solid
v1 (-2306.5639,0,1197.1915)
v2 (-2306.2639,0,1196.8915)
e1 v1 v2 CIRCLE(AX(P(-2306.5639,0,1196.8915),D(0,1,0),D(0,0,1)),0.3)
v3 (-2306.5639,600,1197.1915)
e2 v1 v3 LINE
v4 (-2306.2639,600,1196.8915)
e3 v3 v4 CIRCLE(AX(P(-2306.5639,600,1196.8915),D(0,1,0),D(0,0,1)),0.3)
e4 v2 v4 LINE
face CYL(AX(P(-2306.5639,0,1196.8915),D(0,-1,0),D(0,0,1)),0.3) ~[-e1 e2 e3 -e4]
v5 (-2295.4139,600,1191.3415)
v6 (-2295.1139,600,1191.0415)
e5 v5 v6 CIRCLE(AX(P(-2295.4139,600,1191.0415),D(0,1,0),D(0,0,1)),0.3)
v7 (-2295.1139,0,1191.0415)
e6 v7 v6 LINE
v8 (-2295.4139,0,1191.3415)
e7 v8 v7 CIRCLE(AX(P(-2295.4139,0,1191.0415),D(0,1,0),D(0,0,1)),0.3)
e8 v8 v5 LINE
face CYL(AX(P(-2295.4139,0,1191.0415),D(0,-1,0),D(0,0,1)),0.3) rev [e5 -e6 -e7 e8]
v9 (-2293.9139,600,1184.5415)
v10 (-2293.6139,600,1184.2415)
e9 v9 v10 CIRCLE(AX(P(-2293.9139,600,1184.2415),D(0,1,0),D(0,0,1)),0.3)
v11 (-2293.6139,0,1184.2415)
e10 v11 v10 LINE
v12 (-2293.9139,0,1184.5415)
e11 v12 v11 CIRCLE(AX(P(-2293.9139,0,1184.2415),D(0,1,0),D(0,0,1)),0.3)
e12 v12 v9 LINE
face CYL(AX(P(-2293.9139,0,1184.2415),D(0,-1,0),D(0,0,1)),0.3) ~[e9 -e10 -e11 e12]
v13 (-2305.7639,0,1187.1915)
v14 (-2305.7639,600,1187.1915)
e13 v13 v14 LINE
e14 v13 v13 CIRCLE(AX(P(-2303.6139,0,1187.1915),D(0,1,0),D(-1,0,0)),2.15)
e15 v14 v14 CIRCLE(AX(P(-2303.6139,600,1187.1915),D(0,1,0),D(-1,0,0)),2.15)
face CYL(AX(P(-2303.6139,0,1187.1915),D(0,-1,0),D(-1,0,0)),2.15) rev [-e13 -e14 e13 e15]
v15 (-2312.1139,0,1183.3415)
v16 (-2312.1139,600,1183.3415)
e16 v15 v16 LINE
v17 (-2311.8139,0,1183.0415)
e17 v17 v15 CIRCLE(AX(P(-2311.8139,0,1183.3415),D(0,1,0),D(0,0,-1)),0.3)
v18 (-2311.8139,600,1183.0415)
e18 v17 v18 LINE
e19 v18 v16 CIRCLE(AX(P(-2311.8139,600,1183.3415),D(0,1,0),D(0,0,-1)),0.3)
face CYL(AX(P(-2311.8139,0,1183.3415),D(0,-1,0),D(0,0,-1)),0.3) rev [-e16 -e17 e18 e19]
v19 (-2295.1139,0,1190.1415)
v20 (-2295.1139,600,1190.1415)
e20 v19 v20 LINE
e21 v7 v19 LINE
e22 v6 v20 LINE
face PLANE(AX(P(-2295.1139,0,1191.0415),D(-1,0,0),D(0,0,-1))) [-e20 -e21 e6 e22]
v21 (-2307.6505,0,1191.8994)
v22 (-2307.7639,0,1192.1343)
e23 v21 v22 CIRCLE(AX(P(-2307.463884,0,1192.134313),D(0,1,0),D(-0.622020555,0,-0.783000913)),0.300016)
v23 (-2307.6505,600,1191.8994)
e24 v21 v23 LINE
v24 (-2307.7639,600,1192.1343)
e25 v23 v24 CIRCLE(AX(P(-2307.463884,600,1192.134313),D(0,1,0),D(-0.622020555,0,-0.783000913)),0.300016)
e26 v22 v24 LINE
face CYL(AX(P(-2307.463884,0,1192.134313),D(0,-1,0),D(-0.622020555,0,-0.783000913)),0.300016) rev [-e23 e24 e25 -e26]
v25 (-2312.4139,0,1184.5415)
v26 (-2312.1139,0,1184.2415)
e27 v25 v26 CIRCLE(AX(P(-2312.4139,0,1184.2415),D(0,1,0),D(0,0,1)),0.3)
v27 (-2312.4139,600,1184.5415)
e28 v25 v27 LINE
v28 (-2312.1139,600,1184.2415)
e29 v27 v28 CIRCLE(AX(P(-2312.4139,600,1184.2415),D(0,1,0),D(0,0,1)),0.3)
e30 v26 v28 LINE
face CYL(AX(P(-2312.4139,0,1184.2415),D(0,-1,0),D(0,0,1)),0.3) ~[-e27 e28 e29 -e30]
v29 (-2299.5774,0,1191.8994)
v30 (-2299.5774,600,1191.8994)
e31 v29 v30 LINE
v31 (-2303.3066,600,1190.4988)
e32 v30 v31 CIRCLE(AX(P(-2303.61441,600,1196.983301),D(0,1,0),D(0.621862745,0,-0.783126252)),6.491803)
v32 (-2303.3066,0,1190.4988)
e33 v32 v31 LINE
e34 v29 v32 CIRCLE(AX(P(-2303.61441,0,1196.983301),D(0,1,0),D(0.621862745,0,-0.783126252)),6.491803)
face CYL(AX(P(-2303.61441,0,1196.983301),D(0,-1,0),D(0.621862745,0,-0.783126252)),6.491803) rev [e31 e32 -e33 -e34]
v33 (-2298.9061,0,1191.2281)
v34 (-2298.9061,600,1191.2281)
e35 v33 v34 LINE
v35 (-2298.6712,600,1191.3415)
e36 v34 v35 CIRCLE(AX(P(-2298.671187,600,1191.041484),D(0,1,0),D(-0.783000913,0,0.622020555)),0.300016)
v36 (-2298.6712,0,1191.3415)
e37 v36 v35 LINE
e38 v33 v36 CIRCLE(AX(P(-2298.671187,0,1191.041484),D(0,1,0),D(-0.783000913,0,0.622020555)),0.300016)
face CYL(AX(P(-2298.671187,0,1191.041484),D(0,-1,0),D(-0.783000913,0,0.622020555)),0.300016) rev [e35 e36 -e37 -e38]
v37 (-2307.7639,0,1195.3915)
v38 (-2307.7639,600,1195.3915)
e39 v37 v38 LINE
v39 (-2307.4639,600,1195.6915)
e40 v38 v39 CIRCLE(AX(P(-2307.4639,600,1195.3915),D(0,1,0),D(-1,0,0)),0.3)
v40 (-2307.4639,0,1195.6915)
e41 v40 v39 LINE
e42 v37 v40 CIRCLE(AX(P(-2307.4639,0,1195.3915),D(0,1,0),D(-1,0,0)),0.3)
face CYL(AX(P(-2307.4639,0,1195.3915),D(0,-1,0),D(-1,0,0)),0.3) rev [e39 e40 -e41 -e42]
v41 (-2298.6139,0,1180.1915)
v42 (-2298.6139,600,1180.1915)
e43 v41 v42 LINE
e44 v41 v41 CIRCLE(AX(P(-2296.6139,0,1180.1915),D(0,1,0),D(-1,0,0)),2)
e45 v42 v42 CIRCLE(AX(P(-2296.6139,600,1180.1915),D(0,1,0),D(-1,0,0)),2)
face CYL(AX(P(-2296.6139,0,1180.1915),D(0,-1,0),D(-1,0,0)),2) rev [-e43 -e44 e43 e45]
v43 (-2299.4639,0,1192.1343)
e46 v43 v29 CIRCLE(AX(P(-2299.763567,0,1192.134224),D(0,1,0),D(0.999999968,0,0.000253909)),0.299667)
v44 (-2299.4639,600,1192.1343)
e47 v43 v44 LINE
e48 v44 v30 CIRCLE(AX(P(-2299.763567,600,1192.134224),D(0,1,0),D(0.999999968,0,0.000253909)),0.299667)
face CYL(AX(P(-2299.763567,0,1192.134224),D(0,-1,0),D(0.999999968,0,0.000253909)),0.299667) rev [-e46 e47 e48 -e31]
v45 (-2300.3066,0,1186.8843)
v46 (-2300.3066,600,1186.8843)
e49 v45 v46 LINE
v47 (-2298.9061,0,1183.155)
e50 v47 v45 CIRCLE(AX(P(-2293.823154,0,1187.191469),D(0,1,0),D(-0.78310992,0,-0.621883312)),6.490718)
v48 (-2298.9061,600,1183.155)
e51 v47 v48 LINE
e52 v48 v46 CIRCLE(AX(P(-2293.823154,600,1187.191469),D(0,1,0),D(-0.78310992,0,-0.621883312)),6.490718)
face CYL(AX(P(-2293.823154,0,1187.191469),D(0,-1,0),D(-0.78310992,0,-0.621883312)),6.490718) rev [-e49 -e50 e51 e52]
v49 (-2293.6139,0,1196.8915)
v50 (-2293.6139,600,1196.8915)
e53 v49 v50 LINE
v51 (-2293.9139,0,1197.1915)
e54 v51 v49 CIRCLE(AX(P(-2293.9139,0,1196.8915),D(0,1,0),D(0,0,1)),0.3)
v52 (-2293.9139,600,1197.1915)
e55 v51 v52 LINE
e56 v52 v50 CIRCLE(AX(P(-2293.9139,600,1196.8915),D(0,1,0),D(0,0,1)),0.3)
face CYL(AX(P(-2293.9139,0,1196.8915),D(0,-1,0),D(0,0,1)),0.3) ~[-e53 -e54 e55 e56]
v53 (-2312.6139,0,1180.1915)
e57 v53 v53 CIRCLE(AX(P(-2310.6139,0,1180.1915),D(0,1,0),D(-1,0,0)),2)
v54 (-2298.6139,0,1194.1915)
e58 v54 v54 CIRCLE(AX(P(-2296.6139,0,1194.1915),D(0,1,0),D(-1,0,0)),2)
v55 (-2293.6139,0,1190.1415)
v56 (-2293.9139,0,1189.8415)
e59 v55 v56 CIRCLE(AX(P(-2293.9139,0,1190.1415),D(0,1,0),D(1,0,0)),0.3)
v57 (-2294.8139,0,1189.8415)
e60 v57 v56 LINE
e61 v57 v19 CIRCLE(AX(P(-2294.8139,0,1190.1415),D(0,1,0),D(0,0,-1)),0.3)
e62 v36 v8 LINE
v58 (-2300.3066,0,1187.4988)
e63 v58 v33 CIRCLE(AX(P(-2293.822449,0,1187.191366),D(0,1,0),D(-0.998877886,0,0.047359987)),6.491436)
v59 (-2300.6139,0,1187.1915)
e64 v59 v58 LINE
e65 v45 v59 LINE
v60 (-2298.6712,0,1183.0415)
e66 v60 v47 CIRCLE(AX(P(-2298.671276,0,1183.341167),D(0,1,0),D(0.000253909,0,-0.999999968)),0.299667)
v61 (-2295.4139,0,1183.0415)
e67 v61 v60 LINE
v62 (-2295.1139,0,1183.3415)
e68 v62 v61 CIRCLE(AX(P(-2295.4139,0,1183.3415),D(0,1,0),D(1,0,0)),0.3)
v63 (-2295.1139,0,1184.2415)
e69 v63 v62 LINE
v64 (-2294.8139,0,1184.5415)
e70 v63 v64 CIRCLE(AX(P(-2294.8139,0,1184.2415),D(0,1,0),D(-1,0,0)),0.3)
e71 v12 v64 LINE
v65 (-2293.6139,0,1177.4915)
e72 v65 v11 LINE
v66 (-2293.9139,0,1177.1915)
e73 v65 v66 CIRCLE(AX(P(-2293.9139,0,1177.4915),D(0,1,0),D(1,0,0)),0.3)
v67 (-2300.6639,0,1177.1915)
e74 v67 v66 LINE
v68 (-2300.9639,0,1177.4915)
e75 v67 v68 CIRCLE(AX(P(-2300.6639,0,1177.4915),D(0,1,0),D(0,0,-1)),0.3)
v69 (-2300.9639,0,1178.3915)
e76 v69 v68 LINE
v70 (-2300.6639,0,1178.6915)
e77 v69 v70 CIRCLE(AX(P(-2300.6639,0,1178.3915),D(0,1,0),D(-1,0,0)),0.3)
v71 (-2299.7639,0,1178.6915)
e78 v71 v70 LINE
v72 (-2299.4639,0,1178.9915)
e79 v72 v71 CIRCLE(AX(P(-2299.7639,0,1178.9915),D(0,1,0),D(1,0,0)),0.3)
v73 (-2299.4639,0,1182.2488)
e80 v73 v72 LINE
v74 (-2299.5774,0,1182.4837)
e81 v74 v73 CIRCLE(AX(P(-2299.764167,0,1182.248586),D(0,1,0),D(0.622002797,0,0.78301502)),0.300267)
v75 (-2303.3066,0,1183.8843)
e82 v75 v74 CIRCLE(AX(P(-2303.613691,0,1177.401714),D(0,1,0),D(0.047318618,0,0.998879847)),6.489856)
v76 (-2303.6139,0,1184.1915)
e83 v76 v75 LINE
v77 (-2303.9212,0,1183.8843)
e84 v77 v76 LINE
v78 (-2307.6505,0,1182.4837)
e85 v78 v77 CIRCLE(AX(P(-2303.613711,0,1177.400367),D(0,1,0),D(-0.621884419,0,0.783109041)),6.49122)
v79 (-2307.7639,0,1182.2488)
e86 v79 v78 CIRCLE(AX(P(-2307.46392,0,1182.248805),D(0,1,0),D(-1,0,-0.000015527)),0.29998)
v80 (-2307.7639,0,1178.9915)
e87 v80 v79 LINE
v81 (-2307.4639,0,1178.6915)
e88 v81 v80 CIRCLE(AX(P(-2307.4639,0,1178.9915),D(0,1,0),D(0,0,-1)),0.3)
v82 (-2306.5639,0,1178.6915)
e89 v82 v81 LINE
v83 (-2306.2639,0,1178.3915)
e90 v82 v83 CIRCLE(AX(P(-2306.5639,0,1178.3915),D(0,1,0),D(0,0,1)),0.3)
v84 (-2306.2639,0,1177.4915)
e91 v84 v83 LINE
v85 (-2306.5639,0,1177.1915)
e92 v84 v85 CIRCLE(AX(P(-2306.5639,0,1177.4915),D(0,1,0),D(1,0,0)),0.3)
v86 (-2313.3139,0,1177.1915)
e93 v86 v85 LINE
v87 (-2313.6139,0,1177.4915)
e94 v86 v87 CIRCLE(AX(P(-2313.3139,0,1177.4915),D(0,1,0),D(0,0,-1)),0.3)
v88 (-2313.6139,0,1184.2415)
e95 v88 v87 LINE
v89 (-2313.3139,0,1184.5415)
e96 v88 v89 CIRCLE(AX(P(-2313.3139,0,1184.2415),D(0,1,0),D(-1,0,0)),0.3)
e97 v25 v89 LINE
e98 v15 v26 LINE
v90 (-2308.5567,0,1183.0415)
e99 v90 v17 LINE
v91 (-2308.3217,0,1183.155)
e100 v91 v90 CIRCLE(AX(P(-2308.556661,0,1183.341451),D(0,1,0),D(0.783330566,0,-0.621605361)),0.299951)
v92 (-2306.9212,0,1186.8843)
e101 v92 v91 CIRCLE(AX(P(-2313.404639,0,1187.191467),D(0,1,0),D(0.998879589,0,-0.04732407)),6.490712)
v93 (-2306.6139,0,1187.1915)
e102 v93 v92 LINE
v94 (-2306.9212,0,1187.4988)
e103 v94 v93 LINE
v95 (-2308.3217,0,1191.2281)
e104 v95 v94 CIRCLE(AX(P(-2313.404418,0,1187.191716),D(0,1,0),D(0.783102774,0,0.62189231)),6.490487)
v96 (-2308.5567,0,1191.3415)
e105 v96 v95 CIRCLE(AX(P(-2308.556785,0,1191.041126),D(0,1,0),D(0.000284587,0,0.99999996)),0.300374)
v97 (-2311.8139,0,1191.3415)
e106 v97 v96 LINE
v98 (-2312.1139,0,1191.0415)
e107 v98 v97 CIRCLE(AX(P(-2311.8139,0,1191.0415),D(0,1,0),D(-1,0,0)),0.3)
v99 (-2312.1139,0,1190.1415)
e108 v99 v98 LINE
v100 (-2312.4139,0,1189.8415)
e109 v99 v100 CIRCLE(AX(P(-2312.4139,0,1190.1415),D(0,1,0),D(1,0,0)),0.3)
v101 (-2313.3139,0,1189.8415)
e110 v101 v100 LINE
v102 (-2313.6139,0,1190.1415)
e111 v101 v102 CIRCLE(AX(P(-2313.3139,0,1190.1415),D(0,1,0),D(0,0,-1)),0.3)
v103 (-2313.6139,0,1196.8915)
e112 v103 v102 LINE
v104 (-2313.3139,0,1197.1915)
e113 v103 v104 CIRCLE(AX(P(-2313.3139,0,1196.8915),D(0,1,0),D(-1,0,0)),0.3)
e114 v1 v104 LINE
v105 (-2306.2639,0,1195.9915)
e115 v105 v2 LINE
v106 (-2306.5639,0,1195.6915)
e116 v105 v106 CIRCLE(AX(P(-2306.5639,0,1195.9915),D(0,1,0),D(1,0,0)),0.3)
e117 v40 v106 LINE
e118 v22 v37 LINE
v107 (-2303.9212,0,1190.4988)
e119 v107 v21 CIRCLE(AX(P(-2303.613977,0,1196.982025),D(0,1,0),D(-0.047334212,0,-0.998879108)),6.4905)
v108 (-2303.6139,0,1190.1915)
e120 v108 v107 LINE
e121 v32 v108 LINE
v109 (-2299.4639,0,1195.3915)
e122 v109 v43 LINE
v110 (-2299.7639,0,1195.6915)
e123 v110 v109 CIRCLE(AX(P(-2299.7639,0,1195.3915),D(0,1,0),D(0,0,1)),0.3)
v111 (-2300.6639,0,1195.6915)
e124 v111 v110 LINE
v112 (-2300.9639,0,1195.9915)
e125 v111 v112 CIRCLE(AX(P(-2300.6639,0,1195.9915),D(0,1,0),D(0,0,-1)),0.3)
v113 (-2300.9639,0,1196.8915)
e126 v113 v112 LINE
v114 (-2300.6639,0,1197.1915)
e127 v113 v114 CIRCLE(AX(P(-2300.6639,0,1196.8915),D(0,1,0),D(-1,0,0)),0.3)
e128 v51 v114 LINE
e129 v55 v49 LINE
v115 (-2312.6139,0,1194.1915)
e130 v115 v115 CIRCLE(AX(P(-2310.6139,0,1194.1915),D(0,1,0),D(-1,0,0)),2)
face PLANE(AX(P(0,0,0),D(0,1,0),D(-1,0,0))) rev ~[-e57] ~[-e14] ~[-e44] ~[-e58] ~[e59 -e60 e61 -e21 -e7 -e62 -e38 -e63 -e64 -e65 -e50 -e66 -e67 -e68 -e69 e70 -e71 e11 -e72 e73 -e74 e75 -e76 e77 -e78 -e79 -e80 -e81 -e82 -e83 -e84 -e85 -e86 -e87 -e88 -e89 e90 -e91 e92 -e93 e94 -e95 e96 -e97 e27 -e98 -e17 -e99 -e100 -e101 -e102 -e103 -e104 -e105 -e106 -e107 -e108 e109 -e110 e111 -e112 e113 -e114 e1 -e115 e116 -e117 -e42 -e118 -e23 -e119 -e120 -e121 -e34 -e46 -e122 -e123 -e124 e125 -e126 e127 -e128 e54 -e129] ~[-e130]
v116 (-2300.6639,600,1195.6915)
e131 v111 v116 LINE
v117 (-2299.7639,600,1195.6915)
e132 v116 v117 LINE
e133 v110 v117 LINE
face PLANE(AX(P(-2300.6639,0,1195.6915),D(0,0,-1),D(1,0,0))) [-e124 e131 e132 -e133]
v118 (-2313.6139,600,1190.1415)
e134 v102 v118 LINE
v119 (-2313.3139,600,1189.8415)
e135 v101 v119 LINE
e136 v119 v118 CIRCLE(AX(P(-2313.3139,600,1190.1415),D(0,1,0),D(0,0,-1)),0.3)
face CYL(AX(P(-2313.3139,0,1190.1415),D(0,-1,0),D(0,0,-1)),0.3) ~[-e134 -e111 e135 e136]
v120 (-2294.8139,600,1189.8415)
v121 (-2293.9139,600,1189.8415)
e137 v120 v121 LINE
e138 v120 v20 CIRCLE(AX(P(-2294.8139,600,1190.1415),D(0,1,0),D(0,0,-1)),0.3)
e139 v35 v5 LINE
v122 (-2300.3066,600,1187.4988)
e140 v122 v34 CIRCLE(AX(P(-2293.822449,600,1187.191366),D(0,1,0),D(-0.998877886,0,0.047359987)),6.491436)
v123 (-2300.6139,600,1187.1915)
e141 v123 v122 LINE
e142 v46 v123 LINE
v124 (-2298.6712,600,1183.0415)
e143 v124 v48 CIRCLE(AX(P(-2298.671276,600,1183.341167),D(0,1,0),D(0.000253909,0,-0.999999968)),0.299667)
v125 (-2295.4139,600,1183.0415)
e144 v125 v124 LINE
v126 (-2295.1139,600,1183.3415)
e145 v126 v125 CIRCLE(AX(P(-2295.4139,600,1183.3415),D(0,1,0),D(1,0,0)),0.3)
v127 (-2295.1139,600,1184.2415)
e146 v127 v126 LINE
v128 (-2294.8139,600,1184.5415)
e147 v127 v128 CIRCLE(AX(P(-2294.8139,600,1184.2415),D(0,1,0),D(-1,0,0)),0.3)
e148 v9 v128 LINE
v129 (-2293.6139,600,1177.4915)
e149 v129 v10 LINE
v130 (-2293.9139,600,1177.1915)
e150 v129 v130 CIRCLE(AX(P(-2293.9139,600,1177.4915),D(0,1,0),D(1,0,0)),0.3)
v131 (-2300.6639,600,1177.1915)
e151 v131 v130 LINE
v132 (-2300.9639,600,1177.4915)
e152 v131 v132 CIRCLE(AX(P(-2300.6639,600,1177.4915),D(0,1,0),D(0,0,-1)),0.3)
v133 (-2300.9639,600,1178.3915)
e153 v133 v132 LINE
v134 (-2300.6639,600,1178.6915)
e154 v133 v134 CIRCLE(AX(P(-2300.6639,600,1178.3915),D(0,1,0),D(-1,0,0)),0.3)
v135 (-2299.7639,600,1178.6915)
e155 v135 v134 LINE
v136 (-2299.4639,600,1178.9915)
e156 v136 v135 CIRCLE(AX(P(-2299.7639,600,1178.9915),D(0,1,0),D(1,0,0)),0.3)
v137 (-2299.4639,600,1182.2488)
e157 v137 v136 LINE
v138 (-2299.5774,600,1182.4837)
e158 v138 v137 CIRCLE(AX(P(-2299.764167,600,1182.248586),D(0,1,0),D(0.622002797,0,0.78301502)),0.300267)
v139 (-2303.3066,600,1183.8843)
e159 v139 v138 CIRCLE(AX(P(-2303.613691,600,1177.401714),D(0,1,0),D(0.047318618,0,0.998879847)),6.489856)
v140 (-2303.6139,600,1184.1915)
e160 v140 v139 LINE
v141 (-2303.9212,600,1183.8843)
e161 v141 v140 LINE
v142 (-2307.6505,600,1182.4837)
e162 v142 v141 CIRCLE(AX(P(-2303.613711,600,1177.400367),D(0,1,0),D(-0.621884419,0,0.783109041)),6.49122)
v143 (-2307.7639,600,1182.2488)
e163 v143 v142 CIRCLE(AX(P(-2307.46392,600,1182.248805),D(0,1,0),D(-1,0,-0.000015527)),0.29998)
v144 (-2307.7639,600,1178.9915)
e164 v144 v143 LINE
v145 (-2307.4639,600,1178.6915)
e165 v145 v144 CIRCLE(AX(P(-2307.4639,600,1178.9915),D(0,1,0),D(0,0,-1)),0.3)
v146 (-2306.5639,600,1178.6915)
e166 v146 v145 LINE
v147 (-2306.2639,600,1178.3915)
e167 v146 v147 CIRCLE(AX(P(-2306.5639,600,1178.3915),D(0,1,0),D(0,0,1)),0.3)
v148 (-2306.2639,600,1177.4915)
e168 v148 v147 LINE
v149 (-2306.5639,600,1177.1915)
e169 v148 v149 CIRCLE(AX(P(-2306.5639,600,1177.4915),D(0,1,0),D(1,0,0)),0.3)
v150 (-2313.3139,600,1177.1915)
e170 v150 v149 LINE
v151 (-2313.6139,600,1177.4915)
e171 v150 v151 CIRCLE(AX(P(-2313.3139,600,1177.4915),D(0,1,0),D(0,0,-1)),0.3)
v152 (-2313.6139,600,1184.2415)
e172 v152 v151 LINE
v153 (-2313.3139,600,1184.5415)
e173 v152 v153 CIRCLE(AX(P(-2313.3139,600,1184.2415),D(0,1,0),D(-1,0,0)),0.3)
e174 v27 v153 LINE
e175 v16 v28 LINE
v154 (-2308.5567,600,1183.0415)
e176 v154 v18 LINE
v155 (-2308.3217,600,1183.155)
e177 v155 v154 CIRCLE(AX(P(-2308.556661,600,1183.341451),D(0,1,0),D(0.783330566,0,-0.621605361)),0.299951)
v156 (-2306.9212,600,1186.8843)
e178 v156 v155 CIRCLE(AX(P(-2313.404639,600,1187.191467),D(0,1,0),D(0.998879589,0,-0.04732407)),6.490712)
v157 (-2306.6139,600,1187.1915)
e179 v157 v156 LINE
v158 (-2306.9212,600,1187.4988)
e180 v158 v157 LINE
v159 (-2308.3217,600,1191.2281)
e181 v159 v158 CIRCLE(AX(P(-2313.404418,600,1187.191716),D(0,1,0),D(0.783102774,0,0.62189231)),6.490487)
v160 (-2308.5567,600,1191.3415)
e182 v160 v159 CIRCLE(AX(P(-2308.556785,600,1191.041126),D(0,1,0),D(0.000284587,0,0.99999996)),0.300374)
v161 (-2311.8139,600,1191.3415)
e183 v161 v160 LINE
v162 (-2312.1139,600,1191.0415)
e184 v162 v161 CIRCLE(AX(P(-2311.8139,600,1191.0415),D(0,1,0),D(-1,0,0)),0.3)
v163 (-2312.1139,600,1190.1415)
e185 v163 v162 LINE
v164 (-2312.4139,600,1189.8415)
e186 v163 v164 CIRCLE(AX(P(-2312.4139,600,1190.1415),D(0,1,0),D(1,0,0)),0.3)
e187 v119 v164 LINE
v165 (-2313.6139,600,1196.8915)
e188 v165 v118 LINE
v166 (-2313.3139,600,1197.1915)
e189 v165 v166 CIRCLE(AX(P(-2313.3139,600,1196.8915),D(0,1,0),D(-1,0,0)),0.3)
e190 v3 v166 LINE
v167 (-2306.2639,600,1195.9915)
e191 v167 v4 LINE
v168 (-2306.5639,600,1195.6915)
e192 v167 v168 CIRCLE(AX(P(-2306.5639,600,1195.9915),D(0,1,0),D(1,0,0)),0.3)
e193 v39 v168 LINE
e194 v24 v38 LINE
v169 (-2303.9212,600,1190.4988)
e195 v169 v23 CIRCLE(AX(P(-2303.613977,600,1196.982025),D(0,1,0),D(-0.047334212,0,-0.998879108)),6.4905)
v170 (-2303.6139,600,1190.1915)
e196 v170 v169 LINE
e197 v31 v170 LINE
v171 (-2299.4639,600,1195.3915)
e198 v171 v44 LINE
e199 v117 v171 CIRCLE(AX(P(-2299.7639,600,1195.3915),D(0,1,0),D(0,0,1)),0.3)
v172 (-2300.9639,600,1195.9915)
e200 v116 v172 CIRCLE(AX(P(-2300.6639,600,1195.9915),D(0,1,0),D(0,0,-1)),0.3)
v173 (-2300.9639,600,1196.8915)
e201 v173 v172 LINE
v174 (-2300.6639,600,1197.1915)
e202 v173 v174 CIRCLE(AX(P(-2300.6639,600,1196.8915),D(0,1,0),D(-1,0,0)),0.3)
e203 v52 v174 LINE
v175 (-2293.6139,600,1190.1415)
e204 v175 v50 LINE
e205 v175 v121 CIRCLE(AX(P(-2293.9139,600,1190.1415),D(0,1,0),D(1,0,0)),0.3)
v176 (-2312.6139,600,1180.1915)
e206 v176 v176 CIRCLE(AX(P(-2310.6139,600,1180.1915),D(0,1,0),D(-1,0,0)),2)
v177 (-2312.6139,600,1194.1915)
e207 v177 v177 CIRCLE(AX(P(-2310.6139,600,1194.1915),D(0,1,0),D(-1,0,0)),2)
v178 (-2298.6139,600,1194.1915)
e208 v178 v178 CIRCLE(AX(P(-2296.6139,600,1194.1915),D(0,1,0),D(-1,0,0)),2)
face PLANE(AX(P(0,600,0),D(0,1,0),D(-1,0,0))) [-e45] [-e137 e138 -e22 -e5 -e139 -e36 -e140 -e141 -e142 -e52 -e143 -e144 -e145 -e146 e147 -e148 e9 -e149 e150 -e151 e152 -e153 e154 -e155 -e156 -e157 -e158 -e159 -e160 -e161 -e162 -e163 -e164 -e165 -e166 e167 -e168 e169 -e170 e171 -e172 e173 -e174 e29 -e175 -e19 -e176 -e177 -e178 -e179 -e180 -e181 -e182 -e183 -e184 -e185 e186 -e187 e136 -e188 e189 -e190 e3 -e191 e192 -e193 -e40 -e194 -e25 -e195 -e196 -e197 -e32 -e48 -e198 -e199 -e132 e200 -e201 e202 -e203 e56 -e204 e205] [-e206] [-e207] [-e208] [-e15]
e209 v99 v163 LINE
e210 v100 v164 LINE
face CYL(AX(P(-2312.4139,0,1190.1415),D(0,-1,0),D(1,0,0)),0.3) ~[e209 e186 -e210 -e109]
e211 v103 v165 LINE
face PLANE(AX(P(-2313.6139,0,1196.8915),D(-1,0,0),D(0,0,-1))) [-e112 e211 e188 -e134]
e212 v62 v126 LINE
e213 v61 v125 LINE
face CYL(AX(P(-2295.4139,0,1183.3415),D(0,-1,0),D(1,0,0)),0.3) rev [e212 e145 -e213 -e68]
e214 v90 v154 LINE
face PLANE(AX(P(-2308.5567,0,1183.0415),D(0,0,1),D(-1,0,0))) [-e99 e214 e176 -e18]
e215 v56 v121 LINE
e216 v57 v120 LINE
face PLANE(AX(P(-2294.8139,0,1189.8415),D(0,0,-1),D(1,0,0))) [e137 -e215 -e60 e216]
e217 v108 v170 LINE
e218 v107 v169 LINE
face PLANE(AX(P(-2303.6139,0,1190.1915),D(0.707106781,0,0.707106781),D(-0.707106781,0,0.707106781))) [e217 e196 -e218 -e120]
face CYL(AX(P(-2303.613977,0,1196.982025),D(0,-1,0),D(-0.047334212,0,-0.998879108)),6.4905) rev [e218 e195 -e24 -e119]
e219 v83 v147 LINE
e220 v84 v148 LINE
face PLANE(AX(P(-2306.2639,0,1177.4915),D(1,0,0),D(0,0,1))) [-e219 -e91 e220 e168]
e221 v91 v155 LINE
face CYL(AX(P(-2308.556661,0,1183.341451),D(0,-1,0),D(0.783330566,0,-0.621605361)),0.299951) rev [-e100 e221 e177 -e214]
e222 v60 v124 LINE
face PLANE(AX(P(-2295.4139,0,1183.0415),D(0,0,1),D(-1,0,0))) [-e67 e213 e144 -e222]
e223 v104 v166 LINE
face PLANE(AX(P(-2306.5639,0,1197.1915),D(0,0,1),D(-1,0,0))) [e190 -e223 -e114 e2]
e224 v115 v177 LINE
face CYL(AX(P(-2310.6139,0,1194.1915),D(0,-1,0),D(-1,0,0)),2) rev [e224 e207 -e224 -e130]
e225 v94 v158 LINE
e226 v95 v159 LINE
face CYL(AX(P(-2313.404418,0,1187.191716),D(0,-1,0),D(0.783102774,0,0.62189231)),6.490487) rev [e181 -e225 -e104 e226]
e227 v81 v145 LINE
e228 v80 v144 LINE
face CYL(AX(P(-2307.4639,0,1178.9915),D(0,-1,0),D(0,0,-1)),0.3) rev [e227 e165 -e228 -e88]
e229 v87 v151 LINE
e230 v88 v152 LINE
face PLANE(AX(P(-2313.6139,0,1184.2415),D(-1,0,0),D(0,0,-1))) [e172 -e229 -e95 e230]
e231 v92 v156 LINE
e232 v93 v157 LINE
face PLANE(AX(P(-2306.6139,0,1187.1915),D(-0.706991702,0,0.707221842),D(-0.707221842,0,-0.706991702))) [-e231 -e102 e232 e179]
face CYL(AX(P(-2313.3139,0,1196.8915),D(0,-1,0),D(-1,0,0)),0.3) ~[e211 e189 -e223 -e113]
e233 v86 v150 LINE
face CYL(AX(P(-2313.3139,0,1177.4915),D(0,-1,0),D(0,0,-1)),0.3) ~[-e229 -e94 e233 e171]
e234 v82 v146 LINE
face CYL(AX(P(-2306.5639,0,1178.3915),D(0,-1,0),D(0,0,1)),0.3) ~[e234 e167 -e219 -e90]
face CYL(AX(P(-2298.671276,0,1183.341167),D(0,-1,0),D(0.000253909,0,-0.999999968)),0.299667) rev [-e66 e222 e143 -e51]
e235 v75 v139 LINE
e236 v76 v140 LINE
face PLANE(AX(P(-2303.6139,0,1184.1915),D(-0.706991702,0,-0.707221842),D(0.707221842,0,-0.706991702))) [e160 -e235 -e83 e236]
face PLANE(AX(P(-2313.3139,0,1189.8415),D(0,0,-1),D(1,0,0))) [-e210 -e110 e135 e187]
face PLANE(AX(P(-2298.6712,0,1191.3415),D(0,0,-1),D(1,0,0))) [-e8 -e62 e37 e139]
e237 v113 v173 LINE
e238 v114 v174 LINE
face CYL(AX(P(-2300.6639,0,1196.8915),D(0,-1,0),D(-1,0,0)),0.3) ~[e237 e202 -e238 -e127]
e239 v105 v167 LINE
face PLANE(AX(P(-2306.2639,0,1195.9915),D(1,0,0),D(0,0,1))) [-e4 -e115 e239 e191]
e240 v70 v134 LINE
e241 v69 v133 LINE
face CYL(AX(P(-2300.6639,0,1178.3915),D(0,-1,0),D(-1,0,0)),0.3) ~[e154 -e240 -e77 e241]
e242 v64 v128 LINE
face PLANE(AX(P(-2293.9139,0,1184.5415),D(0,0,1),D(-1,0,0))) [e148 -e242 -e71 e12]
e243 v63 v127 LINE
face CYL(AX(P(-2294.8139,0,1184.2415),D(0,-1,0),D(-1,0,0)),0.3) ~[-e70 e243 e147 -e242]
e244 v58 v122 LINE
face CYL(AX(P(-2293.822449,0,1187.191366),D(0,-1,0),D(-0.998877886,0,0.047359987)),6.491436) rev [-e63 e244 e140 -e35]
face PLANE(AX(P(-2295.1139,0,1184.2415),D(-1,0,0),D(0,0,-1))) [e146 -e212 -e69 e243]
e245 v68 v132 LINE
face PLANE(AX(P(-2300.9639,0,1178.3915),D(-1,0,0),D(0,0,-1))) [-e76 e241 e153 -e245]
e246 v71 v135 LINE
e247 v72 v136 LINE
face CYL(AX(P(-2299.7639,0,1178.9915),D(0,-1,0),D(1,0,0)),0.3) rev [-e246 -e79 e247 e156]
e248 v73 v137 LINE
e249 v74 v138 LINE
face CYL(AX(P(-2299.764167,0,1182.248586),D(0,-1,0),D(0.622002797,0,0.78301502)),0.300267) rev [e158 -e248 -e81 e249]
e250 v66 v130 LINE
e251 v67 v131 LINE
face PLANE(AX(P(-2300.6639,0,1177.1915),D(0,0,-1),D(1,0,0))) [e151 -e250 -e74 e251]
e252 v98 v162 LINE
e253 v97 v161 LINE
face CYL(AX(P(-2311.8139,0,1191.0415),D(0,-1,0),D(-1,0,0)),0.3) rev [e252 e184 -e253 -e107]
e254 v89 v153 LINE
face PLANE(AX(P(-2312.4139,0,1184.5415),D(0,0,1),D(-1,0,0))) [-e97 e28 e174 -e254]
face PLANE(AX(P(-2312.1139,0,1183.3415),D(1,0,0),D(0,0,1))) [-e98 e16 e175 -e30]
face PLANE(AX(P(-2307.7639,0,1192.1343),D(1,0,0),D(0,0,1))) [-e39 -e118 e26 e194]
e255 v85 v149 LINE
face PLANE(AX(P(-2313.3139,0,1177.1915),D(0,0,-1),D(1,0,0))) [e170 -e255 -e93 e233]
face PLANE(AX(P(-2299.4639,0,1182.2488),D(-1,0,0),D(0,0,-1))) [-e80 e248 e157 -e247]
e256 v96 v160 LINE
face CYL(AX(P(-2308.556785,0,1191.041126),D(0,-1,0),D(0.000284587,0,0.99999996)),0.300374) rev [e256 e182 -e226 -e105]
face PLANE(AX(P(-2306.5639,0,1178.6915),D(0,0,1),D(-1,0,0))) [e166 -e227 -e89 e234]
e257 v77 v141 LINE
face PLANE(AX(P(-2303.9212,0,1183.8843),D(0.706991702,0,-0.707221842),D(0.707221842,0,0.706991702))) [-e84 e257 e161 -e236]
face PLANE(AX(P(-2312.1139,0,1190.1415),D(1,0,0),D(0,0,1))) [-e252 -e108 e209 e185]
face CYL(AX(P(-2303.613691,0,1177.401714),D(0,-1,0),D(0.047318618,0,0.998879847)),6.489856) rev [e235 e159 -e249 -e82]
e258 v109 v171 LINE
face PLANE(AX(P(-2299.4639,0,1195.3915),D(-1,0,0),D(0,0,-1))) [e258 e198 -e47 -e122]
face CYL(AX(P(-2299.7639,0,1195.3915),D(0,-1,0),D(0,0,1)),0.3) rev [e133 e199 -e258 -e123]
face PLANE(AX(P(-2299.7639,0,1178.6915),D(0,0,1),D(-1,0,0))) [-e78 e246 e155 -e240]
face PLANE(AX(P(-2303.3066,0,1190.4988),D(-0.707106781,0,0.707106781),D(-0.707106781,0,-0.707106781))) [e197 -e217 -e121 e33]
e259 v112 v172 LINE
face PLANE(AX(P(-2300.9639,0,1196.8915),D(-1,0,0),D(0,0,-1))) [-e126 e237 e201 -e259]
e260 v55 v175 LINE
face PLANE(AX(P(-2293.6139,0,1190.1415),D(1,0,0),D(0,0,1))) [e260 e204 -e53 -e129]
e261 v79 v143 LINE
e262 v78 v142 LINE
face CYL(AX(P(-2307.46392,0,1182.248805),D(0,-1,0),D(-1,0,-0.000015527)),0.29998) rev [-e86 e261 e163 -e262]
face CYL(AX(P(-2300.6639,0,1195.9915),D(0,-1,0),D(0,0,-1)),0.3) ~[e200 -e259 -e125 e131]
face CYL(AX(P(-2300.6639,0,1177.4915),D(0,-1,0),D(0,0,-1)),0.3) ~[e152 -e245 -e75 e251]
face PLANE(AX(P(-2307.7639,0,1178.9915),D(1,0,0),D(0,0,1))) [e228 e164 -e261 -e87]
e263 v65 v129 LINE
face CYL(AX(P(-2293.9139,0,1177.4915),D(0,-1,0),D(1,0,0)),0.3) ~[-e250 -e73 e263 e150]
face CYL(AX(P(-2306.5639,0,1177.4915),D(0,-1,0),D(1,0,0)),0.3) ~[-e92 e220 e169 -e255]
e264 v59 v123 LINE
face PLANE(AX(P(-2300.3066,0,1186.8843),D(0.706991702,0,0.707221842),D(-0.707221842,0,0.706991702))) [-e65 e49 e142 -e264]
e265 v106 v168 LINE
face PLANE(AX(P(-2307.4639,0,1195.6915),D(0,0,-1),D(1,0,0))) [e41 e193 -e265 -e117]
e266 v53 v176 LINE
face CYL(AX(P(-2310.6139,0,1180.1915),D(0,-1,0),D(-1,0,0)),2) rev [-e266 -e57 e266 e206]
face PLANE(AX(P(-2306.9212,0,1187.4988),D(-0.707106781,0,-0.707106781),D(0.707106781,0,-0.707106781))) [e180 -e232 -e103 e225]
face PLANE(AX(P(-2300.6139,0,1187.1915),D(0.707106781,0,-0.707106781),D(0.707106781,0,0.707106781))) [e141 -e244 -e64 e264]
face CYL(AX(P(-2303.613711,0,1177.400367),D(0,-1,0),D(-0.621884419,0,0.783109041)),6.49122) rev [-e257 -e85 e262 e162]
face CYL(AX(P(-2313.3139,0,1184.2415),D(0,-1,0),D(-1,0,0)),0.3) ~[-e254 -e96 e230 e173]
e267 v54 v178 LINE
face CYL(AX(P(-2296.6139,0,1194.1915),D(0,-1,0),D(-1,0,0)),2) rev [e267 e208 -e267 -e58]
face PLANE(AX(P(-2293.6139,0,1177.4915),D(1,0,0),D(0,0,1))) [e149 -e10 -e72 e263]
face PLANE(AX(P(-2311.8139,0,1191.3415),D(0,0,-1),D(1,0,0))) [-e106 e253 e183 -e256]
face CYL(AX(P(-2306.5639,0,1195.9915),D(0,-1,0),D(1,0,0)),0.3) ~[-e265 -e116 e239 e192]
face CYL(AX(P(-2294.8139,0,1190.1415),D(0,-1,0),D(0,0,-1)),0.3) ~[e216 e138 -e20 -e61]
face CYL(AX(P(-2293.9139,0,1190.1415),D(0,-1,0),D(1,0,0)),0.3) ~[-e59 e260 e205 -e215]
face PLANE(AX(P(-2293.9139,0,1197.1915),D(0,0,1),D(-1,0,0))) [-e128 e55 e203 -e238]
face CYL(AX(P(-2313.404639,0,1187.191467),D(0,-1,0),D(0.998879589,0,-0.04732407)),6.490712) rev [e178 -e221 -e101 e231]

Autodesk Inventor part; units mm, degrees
ref_plane "YZ Plane" through (0, 0, 0) normal (1, 0, 0) x (0, 1, 0)
ref_plane "XZ Plane" through (0, 0, 0) normal (0, 1, 0) x (-1, 0, 0)
ref_plane "XY Plane" through (0, 0, 0) normal (0, 0, 1) x (1, 0, 0)
sketch "2020_Base" plane through (0, 0, 0) normal (0, 1, 0) x (-1, 0, 0)
  line L0 (2307.7639, 1192.1343) -> (2307.7639, 1195.3915) projected
  arc A0 (2307.7639, 1195.3915) -> (2307.4639, 1195.6915) centre (2307.4639, 1195.3915) ccw projected
  line L1 (2307.4639, 1195.6915) -> (2306.5639, 1195.6915) projected
  arc A1 (2306.2639, 1195.9915) -> (2306.5639, 1195.6915) centre (2306.5639, 1195.9915) ccw projected
  line L2 (2306.2639, 1195.9915) -> (2306.2639, 1196.8915) projected
  arc A2 (2306.5639, 1197.1915) -> (2306.2639, 1196.8915) centre (2306.5639, 1196.8915) ccw projected
  line L3 (2306.5639, 1197.1915) -> (2313.3139, 1197.1915) projected
  arc A3 (2313.6139, 1196.8915) -> (2313.3139, 1197.1915) centre (2313.3139, 1196.8915) ccw projected
  line L4 (2313.6139, 1196.8915) -> (2313.6139, 1190.1415) projected
  arc A4 (2313.3139, 1189.8415) -> (2313.6139, 1190.1415) centre (2313.3139, 1190.1415) ccw projected
  line L5 (2313.3139, 1189.8415) -> (2312.4139, 1189.8415) projected
  arc A5 (2312.1139, 1190.1415) -> (2312.4139, 1189.8415) centre (2312.4139, 1190.1415) ccw projected
  line L6 (2312.1139, 1190.1415) -> (2312.1139, 1191.0415) projected
  arc A6 (2312.1139, 1191.0415) -> (2311.8139, 1191.3415) centre (2311.8139, 1191.0415) ccw projected
  line L7 (2311.8139, 1191.3415) -> (2308.5567, 1191.3415) projected
  arc A7 (2308.5567, 1191.3415) -> (2308.3217, 1191.2281) centre (2308.5567, 1191.0415) ccw projected
  arc A8 (2308.3217, 1191.2281) -> (2306.9212, 1187.4988) centre (2313.4048, 1187.1915) ccw projected
  line L8 (2306.9212, 1187.4988) -> (2306.6139, 1187.1915) projected
  line L9 (2306.6139, 1187.1915) -> (2306.9212, 1186.8843) projected
  arc A9 (2306.9212, 1186.8843) -> (2308.3217, 1183.155) centre (2313.4048, 1187.1915) ccw projected
  arc A10 (2308.3217, 1183.155) -> (2308.5567, 1183.0415) centre (2308.5567, 1183.3415) ccw projected
  line L10 (2308.5567, 1183.0415) -> (2311.8139, 1183.0415) projected
  arc A11 (2311.8139, 1183.0415) -> (2312.1139, 1183.3415) centre (2311.8139, 1183.3415) ccw projected
  line L11 (2312.1139, 1183.3415) -> (2312.1139, 1184.2415) projected
  arc A12 (2312.4139, 1184.5415) -> (2312.1139, 1184.2415) centre (2312.4139, 1184.2415) ccw projected
  line L12 (2312.4139, 1184.5415) -> (2313.3139, 1184.5415) projected
  arc A13 (2313.6139, 1184.2415) -> (2313.3139, 1184.5415) centre (2313.3139, 1184.2415) ccw projected
  line L13 (2313.6139, 1184.2415) -> (2313.6139, 1177.4915) projected
  arc A14 (2313.3139, 1177.1915) -> (2313.6139, 1177.4915) centre (2313.3139, 1177.4915) ccw projected
  line L14 (2313.3139, 1177.1915) -> (2306.5639, 1177.1915) projected
  arc A15 (2306.2639, 1177.4915) -> (2306.5639, 1177.1915) centre (2306.5639, 1177.4915) ccw projected
  line L15 (2306.2639, 1177.4915) -> (2306.2639, 1178.3915) projected
  arc A16 (2306.5639, 1178.6915) -> (2306.2639, 1178.3915) centre (2306.5639, 1178.3915) ccw projected
  line L16 (2306.5639, 1178.6915) -> (2307.4639, 1178.6915) projected
  arc A17 (2307.4639, 1178.6915) -> (2307.7639, 1178.9915) centre (2307.4639, 1178.9915) ccw projected
  line L17 (2307.7639, 1178.9915) -> (2307.7639, 1182.2488) projected
  arc A18 (2307.7639, 1182.2488) -> (2307.6505, 1182.4837) centre (2307.4639, 1182.2488) ccw projected
  arc A19 (2307.6505, 1182.4837) -> (2303.9212, 1183.8843) centre (2303.6139, 1177.4007) ccw projected
  line L18 (2303.9212, 1183.8843) -> (2303.6139, 1184.1915) projected
  line L19 (2303.6139, 1184.1915) -> (2303.3066, 1183.8843) projected
  arc A20 (2303.3066, 1183.8843) -> (2299.5774, 1182.4837) centre (2303.6139, 1177.4007) ccw projected
  arc A21 (2299.5774, 1182.4837) -> (2299.4639, 1182.2488) centre (2299.7639, 1182.2488) ccw projected
  line L20 (2299.4639, 1182.2488) -> (2299.4639, 1178.9915) projected
  arc A22 (2299.4639, 1178.9915) -> (2299.7639, 1178.6915) centre (2299.7639, 1178.9915) ccw projected
  line L21 (2299.7639, 1178.6915) -> (2300.6639, 1178.6915) projected
  arc A23 (2300.9639, 1178.3915) -> (2300.6639, 1178.6915) centre (2300.6639, 1178.3915) ccw projected
  line L22 (2300.9639, 1178.3915) -> (2300.9639, 1177.4915) projected
  arc A24 (2300.6639, 1177.1915) -> (2300.9639, 1177.4915) centre (2300.6639, 1177.4915) ccw projected
  line L23 (2300.6639, 1177.1915) -> (2293.9139, 1177.1915) projected
  arc A25 (2293.6139, 1177.4915) -> (2293.9139, 1177.1915) centre (2293.9139, 1177.4915) ccw projected
  line L24 (2293.6139, 1177.4915) -> (2293.6139, 1184.2415) projected
  arc A26 (2293.9139, 1184.5415) -> (2293.6139, 1184.2415) centre (2293.9139, 1184.2415) ccw projected
  line L25 (2293.9139, 1184.5415) -> (2294.8139, 1184.5415) projected
  arc A27 (2295.1139, 1184.2415) -> (2294.8139, 1184.5415) centre (2294.8139, 1184.2415) ccw projected
  line L26 (2295.1139, 1184.2415) -> (2295.1139, 1183.3415) projected
  arc A28 (2295.1139, 1183.3415) -> (2295.4139, 1183.0415) centre (2295.4139, 1183.3415) ccw projected
  line L27 (2295.4139, 1183.0415) -> (2298.6712, 1183.0415) projected
  arc A29 (2298.6712, 1183.0415) -> (2298.9061, 1183.155) centre (2298.6712, 1183.3415) ccw projected
  arc A30 (2298.9061, 1183.155) -> (2300.3066, 1186.8843) centre (2293.8231, 1187.1915) ccw projected
  line L28 (2300.3066, 1186.8843) -> (2300.6139, 1187.1915) projected
  line L29 (2300.6139, 1187.1915) -> (2300.3066, 1187.4988) projected
  arc A31 (2300.3066, 1187.4988) -> (2298.9061, 1191.2281) centre (2293.8231, 1187.1915) ccw projected
  arc A32 (2298.9061, 1191.2281) -> (2298.6712, 1191.3415) centre (2298.6712, 1191.0415) ccw projected
  line L30 (2298.6712, 1191.3415) -> (2295.4139, 1191.3415) projected
  arc A33 (2295.4139, 1191.3415) -> (2295.1139, 1191.0415) centre (2295.4139, 1191.0415) ccw projected
  line L31 (2295.1139, 1191.0415) -> (2295.1139, 1190.1415) projected
  arc A34 (2294.8139, 1189.8415) -> (2295.1139, 1190.1415) centre (2294.8139, 1190.1415) ccw projected
  line L32 (2294.8139, 1189.8415) -> (2293.9139, 1189.8415) projected
  arc A35 (2293.6139, 1190.1415) -> (2293.9139, 1189.8415) centre (2293.9139, 1190.1415) ccw projected
  line L33 (2293.6139, 1190.1415) -> (2293.6139, 1196.8915) projected
  arc A36 (2293.9139, 1197.1915) -> (2293.6139, 1196.8915) centre (2293.9139, 1196.8915) ccw projected
  line L34 (2293.9139, 1197.1915) -> (2300.6639, 1197.1915) projected
  arc A37 (2300.9639, 1196.8915) -> (2300.6639, 1197.1915) centre (2300.6639, 1196.8915) ccw projected
  line L35 (2300.9639, 1196.8915) -> (2300.9639, 1195.9915) projected
  arc A38 (2300.6639, 1195.6915) -> (2300.9639, 1195.9915) centre (2300.6639, 1195.9915) ccw projected
  line L36 (2300.6639, 1195.6915) -> (2299.7639, 1195.6915) projected
  arc A39 (2299.7639, 1195.6915) -> (2299.4639, 1195.3915) centre (2299.7639, 1195.3915) ccw projected
  line L37 (2299.4639, 1195.3915) -> (2299.4639, 1192.1343) projected
  arc A40 (2299.4639, 1192.1343) -> (2299.5774, 1191.8994) centre (2299.7639, 1192.1343) ccw projected
  arc A41 (2299.5774, 1191.8994) -> (2303.3066, 1190.4988) centre (2303.6139, 1196.9824) ccw projected
  line L38 (2303.3066, 1190.4988) -> (2303.6139, 1190.1915) projected
  line L39 (2303.6139, 1190.1915) -> (2303.9212, 1190.4988) projected
  arc A42 (2303.9212, 1190.4988) -> (2307.6505, 1191.8994) centre (2303.6139, 1196.9824) ccw projected
  arc A43 (2307.6505, 1191.8994) -> (2307.7639, 1192.1343) centre (2307.4639, 1192.1343) ccw projected
  circle A44 centre (2310.6139, 1194.1915) radius 2 projected
  circle A45 centre (2303.6139, 1187.1915) radius 2.15 projected
  circle A46 centre (2296.6139, 1194.1915) radius 2 projected
  circle A47 centre (2296.6139, 1180.1915) radius 2 projected
  circle A48 centre (2310.6139, 1180.1915) radius 2 projected
  point P0 (0, 0)
extrude "600mm 2020" add sketch "2020_Base" along normal blind 600
properties part number "100mm 2020" material "알루미늄 6061"
